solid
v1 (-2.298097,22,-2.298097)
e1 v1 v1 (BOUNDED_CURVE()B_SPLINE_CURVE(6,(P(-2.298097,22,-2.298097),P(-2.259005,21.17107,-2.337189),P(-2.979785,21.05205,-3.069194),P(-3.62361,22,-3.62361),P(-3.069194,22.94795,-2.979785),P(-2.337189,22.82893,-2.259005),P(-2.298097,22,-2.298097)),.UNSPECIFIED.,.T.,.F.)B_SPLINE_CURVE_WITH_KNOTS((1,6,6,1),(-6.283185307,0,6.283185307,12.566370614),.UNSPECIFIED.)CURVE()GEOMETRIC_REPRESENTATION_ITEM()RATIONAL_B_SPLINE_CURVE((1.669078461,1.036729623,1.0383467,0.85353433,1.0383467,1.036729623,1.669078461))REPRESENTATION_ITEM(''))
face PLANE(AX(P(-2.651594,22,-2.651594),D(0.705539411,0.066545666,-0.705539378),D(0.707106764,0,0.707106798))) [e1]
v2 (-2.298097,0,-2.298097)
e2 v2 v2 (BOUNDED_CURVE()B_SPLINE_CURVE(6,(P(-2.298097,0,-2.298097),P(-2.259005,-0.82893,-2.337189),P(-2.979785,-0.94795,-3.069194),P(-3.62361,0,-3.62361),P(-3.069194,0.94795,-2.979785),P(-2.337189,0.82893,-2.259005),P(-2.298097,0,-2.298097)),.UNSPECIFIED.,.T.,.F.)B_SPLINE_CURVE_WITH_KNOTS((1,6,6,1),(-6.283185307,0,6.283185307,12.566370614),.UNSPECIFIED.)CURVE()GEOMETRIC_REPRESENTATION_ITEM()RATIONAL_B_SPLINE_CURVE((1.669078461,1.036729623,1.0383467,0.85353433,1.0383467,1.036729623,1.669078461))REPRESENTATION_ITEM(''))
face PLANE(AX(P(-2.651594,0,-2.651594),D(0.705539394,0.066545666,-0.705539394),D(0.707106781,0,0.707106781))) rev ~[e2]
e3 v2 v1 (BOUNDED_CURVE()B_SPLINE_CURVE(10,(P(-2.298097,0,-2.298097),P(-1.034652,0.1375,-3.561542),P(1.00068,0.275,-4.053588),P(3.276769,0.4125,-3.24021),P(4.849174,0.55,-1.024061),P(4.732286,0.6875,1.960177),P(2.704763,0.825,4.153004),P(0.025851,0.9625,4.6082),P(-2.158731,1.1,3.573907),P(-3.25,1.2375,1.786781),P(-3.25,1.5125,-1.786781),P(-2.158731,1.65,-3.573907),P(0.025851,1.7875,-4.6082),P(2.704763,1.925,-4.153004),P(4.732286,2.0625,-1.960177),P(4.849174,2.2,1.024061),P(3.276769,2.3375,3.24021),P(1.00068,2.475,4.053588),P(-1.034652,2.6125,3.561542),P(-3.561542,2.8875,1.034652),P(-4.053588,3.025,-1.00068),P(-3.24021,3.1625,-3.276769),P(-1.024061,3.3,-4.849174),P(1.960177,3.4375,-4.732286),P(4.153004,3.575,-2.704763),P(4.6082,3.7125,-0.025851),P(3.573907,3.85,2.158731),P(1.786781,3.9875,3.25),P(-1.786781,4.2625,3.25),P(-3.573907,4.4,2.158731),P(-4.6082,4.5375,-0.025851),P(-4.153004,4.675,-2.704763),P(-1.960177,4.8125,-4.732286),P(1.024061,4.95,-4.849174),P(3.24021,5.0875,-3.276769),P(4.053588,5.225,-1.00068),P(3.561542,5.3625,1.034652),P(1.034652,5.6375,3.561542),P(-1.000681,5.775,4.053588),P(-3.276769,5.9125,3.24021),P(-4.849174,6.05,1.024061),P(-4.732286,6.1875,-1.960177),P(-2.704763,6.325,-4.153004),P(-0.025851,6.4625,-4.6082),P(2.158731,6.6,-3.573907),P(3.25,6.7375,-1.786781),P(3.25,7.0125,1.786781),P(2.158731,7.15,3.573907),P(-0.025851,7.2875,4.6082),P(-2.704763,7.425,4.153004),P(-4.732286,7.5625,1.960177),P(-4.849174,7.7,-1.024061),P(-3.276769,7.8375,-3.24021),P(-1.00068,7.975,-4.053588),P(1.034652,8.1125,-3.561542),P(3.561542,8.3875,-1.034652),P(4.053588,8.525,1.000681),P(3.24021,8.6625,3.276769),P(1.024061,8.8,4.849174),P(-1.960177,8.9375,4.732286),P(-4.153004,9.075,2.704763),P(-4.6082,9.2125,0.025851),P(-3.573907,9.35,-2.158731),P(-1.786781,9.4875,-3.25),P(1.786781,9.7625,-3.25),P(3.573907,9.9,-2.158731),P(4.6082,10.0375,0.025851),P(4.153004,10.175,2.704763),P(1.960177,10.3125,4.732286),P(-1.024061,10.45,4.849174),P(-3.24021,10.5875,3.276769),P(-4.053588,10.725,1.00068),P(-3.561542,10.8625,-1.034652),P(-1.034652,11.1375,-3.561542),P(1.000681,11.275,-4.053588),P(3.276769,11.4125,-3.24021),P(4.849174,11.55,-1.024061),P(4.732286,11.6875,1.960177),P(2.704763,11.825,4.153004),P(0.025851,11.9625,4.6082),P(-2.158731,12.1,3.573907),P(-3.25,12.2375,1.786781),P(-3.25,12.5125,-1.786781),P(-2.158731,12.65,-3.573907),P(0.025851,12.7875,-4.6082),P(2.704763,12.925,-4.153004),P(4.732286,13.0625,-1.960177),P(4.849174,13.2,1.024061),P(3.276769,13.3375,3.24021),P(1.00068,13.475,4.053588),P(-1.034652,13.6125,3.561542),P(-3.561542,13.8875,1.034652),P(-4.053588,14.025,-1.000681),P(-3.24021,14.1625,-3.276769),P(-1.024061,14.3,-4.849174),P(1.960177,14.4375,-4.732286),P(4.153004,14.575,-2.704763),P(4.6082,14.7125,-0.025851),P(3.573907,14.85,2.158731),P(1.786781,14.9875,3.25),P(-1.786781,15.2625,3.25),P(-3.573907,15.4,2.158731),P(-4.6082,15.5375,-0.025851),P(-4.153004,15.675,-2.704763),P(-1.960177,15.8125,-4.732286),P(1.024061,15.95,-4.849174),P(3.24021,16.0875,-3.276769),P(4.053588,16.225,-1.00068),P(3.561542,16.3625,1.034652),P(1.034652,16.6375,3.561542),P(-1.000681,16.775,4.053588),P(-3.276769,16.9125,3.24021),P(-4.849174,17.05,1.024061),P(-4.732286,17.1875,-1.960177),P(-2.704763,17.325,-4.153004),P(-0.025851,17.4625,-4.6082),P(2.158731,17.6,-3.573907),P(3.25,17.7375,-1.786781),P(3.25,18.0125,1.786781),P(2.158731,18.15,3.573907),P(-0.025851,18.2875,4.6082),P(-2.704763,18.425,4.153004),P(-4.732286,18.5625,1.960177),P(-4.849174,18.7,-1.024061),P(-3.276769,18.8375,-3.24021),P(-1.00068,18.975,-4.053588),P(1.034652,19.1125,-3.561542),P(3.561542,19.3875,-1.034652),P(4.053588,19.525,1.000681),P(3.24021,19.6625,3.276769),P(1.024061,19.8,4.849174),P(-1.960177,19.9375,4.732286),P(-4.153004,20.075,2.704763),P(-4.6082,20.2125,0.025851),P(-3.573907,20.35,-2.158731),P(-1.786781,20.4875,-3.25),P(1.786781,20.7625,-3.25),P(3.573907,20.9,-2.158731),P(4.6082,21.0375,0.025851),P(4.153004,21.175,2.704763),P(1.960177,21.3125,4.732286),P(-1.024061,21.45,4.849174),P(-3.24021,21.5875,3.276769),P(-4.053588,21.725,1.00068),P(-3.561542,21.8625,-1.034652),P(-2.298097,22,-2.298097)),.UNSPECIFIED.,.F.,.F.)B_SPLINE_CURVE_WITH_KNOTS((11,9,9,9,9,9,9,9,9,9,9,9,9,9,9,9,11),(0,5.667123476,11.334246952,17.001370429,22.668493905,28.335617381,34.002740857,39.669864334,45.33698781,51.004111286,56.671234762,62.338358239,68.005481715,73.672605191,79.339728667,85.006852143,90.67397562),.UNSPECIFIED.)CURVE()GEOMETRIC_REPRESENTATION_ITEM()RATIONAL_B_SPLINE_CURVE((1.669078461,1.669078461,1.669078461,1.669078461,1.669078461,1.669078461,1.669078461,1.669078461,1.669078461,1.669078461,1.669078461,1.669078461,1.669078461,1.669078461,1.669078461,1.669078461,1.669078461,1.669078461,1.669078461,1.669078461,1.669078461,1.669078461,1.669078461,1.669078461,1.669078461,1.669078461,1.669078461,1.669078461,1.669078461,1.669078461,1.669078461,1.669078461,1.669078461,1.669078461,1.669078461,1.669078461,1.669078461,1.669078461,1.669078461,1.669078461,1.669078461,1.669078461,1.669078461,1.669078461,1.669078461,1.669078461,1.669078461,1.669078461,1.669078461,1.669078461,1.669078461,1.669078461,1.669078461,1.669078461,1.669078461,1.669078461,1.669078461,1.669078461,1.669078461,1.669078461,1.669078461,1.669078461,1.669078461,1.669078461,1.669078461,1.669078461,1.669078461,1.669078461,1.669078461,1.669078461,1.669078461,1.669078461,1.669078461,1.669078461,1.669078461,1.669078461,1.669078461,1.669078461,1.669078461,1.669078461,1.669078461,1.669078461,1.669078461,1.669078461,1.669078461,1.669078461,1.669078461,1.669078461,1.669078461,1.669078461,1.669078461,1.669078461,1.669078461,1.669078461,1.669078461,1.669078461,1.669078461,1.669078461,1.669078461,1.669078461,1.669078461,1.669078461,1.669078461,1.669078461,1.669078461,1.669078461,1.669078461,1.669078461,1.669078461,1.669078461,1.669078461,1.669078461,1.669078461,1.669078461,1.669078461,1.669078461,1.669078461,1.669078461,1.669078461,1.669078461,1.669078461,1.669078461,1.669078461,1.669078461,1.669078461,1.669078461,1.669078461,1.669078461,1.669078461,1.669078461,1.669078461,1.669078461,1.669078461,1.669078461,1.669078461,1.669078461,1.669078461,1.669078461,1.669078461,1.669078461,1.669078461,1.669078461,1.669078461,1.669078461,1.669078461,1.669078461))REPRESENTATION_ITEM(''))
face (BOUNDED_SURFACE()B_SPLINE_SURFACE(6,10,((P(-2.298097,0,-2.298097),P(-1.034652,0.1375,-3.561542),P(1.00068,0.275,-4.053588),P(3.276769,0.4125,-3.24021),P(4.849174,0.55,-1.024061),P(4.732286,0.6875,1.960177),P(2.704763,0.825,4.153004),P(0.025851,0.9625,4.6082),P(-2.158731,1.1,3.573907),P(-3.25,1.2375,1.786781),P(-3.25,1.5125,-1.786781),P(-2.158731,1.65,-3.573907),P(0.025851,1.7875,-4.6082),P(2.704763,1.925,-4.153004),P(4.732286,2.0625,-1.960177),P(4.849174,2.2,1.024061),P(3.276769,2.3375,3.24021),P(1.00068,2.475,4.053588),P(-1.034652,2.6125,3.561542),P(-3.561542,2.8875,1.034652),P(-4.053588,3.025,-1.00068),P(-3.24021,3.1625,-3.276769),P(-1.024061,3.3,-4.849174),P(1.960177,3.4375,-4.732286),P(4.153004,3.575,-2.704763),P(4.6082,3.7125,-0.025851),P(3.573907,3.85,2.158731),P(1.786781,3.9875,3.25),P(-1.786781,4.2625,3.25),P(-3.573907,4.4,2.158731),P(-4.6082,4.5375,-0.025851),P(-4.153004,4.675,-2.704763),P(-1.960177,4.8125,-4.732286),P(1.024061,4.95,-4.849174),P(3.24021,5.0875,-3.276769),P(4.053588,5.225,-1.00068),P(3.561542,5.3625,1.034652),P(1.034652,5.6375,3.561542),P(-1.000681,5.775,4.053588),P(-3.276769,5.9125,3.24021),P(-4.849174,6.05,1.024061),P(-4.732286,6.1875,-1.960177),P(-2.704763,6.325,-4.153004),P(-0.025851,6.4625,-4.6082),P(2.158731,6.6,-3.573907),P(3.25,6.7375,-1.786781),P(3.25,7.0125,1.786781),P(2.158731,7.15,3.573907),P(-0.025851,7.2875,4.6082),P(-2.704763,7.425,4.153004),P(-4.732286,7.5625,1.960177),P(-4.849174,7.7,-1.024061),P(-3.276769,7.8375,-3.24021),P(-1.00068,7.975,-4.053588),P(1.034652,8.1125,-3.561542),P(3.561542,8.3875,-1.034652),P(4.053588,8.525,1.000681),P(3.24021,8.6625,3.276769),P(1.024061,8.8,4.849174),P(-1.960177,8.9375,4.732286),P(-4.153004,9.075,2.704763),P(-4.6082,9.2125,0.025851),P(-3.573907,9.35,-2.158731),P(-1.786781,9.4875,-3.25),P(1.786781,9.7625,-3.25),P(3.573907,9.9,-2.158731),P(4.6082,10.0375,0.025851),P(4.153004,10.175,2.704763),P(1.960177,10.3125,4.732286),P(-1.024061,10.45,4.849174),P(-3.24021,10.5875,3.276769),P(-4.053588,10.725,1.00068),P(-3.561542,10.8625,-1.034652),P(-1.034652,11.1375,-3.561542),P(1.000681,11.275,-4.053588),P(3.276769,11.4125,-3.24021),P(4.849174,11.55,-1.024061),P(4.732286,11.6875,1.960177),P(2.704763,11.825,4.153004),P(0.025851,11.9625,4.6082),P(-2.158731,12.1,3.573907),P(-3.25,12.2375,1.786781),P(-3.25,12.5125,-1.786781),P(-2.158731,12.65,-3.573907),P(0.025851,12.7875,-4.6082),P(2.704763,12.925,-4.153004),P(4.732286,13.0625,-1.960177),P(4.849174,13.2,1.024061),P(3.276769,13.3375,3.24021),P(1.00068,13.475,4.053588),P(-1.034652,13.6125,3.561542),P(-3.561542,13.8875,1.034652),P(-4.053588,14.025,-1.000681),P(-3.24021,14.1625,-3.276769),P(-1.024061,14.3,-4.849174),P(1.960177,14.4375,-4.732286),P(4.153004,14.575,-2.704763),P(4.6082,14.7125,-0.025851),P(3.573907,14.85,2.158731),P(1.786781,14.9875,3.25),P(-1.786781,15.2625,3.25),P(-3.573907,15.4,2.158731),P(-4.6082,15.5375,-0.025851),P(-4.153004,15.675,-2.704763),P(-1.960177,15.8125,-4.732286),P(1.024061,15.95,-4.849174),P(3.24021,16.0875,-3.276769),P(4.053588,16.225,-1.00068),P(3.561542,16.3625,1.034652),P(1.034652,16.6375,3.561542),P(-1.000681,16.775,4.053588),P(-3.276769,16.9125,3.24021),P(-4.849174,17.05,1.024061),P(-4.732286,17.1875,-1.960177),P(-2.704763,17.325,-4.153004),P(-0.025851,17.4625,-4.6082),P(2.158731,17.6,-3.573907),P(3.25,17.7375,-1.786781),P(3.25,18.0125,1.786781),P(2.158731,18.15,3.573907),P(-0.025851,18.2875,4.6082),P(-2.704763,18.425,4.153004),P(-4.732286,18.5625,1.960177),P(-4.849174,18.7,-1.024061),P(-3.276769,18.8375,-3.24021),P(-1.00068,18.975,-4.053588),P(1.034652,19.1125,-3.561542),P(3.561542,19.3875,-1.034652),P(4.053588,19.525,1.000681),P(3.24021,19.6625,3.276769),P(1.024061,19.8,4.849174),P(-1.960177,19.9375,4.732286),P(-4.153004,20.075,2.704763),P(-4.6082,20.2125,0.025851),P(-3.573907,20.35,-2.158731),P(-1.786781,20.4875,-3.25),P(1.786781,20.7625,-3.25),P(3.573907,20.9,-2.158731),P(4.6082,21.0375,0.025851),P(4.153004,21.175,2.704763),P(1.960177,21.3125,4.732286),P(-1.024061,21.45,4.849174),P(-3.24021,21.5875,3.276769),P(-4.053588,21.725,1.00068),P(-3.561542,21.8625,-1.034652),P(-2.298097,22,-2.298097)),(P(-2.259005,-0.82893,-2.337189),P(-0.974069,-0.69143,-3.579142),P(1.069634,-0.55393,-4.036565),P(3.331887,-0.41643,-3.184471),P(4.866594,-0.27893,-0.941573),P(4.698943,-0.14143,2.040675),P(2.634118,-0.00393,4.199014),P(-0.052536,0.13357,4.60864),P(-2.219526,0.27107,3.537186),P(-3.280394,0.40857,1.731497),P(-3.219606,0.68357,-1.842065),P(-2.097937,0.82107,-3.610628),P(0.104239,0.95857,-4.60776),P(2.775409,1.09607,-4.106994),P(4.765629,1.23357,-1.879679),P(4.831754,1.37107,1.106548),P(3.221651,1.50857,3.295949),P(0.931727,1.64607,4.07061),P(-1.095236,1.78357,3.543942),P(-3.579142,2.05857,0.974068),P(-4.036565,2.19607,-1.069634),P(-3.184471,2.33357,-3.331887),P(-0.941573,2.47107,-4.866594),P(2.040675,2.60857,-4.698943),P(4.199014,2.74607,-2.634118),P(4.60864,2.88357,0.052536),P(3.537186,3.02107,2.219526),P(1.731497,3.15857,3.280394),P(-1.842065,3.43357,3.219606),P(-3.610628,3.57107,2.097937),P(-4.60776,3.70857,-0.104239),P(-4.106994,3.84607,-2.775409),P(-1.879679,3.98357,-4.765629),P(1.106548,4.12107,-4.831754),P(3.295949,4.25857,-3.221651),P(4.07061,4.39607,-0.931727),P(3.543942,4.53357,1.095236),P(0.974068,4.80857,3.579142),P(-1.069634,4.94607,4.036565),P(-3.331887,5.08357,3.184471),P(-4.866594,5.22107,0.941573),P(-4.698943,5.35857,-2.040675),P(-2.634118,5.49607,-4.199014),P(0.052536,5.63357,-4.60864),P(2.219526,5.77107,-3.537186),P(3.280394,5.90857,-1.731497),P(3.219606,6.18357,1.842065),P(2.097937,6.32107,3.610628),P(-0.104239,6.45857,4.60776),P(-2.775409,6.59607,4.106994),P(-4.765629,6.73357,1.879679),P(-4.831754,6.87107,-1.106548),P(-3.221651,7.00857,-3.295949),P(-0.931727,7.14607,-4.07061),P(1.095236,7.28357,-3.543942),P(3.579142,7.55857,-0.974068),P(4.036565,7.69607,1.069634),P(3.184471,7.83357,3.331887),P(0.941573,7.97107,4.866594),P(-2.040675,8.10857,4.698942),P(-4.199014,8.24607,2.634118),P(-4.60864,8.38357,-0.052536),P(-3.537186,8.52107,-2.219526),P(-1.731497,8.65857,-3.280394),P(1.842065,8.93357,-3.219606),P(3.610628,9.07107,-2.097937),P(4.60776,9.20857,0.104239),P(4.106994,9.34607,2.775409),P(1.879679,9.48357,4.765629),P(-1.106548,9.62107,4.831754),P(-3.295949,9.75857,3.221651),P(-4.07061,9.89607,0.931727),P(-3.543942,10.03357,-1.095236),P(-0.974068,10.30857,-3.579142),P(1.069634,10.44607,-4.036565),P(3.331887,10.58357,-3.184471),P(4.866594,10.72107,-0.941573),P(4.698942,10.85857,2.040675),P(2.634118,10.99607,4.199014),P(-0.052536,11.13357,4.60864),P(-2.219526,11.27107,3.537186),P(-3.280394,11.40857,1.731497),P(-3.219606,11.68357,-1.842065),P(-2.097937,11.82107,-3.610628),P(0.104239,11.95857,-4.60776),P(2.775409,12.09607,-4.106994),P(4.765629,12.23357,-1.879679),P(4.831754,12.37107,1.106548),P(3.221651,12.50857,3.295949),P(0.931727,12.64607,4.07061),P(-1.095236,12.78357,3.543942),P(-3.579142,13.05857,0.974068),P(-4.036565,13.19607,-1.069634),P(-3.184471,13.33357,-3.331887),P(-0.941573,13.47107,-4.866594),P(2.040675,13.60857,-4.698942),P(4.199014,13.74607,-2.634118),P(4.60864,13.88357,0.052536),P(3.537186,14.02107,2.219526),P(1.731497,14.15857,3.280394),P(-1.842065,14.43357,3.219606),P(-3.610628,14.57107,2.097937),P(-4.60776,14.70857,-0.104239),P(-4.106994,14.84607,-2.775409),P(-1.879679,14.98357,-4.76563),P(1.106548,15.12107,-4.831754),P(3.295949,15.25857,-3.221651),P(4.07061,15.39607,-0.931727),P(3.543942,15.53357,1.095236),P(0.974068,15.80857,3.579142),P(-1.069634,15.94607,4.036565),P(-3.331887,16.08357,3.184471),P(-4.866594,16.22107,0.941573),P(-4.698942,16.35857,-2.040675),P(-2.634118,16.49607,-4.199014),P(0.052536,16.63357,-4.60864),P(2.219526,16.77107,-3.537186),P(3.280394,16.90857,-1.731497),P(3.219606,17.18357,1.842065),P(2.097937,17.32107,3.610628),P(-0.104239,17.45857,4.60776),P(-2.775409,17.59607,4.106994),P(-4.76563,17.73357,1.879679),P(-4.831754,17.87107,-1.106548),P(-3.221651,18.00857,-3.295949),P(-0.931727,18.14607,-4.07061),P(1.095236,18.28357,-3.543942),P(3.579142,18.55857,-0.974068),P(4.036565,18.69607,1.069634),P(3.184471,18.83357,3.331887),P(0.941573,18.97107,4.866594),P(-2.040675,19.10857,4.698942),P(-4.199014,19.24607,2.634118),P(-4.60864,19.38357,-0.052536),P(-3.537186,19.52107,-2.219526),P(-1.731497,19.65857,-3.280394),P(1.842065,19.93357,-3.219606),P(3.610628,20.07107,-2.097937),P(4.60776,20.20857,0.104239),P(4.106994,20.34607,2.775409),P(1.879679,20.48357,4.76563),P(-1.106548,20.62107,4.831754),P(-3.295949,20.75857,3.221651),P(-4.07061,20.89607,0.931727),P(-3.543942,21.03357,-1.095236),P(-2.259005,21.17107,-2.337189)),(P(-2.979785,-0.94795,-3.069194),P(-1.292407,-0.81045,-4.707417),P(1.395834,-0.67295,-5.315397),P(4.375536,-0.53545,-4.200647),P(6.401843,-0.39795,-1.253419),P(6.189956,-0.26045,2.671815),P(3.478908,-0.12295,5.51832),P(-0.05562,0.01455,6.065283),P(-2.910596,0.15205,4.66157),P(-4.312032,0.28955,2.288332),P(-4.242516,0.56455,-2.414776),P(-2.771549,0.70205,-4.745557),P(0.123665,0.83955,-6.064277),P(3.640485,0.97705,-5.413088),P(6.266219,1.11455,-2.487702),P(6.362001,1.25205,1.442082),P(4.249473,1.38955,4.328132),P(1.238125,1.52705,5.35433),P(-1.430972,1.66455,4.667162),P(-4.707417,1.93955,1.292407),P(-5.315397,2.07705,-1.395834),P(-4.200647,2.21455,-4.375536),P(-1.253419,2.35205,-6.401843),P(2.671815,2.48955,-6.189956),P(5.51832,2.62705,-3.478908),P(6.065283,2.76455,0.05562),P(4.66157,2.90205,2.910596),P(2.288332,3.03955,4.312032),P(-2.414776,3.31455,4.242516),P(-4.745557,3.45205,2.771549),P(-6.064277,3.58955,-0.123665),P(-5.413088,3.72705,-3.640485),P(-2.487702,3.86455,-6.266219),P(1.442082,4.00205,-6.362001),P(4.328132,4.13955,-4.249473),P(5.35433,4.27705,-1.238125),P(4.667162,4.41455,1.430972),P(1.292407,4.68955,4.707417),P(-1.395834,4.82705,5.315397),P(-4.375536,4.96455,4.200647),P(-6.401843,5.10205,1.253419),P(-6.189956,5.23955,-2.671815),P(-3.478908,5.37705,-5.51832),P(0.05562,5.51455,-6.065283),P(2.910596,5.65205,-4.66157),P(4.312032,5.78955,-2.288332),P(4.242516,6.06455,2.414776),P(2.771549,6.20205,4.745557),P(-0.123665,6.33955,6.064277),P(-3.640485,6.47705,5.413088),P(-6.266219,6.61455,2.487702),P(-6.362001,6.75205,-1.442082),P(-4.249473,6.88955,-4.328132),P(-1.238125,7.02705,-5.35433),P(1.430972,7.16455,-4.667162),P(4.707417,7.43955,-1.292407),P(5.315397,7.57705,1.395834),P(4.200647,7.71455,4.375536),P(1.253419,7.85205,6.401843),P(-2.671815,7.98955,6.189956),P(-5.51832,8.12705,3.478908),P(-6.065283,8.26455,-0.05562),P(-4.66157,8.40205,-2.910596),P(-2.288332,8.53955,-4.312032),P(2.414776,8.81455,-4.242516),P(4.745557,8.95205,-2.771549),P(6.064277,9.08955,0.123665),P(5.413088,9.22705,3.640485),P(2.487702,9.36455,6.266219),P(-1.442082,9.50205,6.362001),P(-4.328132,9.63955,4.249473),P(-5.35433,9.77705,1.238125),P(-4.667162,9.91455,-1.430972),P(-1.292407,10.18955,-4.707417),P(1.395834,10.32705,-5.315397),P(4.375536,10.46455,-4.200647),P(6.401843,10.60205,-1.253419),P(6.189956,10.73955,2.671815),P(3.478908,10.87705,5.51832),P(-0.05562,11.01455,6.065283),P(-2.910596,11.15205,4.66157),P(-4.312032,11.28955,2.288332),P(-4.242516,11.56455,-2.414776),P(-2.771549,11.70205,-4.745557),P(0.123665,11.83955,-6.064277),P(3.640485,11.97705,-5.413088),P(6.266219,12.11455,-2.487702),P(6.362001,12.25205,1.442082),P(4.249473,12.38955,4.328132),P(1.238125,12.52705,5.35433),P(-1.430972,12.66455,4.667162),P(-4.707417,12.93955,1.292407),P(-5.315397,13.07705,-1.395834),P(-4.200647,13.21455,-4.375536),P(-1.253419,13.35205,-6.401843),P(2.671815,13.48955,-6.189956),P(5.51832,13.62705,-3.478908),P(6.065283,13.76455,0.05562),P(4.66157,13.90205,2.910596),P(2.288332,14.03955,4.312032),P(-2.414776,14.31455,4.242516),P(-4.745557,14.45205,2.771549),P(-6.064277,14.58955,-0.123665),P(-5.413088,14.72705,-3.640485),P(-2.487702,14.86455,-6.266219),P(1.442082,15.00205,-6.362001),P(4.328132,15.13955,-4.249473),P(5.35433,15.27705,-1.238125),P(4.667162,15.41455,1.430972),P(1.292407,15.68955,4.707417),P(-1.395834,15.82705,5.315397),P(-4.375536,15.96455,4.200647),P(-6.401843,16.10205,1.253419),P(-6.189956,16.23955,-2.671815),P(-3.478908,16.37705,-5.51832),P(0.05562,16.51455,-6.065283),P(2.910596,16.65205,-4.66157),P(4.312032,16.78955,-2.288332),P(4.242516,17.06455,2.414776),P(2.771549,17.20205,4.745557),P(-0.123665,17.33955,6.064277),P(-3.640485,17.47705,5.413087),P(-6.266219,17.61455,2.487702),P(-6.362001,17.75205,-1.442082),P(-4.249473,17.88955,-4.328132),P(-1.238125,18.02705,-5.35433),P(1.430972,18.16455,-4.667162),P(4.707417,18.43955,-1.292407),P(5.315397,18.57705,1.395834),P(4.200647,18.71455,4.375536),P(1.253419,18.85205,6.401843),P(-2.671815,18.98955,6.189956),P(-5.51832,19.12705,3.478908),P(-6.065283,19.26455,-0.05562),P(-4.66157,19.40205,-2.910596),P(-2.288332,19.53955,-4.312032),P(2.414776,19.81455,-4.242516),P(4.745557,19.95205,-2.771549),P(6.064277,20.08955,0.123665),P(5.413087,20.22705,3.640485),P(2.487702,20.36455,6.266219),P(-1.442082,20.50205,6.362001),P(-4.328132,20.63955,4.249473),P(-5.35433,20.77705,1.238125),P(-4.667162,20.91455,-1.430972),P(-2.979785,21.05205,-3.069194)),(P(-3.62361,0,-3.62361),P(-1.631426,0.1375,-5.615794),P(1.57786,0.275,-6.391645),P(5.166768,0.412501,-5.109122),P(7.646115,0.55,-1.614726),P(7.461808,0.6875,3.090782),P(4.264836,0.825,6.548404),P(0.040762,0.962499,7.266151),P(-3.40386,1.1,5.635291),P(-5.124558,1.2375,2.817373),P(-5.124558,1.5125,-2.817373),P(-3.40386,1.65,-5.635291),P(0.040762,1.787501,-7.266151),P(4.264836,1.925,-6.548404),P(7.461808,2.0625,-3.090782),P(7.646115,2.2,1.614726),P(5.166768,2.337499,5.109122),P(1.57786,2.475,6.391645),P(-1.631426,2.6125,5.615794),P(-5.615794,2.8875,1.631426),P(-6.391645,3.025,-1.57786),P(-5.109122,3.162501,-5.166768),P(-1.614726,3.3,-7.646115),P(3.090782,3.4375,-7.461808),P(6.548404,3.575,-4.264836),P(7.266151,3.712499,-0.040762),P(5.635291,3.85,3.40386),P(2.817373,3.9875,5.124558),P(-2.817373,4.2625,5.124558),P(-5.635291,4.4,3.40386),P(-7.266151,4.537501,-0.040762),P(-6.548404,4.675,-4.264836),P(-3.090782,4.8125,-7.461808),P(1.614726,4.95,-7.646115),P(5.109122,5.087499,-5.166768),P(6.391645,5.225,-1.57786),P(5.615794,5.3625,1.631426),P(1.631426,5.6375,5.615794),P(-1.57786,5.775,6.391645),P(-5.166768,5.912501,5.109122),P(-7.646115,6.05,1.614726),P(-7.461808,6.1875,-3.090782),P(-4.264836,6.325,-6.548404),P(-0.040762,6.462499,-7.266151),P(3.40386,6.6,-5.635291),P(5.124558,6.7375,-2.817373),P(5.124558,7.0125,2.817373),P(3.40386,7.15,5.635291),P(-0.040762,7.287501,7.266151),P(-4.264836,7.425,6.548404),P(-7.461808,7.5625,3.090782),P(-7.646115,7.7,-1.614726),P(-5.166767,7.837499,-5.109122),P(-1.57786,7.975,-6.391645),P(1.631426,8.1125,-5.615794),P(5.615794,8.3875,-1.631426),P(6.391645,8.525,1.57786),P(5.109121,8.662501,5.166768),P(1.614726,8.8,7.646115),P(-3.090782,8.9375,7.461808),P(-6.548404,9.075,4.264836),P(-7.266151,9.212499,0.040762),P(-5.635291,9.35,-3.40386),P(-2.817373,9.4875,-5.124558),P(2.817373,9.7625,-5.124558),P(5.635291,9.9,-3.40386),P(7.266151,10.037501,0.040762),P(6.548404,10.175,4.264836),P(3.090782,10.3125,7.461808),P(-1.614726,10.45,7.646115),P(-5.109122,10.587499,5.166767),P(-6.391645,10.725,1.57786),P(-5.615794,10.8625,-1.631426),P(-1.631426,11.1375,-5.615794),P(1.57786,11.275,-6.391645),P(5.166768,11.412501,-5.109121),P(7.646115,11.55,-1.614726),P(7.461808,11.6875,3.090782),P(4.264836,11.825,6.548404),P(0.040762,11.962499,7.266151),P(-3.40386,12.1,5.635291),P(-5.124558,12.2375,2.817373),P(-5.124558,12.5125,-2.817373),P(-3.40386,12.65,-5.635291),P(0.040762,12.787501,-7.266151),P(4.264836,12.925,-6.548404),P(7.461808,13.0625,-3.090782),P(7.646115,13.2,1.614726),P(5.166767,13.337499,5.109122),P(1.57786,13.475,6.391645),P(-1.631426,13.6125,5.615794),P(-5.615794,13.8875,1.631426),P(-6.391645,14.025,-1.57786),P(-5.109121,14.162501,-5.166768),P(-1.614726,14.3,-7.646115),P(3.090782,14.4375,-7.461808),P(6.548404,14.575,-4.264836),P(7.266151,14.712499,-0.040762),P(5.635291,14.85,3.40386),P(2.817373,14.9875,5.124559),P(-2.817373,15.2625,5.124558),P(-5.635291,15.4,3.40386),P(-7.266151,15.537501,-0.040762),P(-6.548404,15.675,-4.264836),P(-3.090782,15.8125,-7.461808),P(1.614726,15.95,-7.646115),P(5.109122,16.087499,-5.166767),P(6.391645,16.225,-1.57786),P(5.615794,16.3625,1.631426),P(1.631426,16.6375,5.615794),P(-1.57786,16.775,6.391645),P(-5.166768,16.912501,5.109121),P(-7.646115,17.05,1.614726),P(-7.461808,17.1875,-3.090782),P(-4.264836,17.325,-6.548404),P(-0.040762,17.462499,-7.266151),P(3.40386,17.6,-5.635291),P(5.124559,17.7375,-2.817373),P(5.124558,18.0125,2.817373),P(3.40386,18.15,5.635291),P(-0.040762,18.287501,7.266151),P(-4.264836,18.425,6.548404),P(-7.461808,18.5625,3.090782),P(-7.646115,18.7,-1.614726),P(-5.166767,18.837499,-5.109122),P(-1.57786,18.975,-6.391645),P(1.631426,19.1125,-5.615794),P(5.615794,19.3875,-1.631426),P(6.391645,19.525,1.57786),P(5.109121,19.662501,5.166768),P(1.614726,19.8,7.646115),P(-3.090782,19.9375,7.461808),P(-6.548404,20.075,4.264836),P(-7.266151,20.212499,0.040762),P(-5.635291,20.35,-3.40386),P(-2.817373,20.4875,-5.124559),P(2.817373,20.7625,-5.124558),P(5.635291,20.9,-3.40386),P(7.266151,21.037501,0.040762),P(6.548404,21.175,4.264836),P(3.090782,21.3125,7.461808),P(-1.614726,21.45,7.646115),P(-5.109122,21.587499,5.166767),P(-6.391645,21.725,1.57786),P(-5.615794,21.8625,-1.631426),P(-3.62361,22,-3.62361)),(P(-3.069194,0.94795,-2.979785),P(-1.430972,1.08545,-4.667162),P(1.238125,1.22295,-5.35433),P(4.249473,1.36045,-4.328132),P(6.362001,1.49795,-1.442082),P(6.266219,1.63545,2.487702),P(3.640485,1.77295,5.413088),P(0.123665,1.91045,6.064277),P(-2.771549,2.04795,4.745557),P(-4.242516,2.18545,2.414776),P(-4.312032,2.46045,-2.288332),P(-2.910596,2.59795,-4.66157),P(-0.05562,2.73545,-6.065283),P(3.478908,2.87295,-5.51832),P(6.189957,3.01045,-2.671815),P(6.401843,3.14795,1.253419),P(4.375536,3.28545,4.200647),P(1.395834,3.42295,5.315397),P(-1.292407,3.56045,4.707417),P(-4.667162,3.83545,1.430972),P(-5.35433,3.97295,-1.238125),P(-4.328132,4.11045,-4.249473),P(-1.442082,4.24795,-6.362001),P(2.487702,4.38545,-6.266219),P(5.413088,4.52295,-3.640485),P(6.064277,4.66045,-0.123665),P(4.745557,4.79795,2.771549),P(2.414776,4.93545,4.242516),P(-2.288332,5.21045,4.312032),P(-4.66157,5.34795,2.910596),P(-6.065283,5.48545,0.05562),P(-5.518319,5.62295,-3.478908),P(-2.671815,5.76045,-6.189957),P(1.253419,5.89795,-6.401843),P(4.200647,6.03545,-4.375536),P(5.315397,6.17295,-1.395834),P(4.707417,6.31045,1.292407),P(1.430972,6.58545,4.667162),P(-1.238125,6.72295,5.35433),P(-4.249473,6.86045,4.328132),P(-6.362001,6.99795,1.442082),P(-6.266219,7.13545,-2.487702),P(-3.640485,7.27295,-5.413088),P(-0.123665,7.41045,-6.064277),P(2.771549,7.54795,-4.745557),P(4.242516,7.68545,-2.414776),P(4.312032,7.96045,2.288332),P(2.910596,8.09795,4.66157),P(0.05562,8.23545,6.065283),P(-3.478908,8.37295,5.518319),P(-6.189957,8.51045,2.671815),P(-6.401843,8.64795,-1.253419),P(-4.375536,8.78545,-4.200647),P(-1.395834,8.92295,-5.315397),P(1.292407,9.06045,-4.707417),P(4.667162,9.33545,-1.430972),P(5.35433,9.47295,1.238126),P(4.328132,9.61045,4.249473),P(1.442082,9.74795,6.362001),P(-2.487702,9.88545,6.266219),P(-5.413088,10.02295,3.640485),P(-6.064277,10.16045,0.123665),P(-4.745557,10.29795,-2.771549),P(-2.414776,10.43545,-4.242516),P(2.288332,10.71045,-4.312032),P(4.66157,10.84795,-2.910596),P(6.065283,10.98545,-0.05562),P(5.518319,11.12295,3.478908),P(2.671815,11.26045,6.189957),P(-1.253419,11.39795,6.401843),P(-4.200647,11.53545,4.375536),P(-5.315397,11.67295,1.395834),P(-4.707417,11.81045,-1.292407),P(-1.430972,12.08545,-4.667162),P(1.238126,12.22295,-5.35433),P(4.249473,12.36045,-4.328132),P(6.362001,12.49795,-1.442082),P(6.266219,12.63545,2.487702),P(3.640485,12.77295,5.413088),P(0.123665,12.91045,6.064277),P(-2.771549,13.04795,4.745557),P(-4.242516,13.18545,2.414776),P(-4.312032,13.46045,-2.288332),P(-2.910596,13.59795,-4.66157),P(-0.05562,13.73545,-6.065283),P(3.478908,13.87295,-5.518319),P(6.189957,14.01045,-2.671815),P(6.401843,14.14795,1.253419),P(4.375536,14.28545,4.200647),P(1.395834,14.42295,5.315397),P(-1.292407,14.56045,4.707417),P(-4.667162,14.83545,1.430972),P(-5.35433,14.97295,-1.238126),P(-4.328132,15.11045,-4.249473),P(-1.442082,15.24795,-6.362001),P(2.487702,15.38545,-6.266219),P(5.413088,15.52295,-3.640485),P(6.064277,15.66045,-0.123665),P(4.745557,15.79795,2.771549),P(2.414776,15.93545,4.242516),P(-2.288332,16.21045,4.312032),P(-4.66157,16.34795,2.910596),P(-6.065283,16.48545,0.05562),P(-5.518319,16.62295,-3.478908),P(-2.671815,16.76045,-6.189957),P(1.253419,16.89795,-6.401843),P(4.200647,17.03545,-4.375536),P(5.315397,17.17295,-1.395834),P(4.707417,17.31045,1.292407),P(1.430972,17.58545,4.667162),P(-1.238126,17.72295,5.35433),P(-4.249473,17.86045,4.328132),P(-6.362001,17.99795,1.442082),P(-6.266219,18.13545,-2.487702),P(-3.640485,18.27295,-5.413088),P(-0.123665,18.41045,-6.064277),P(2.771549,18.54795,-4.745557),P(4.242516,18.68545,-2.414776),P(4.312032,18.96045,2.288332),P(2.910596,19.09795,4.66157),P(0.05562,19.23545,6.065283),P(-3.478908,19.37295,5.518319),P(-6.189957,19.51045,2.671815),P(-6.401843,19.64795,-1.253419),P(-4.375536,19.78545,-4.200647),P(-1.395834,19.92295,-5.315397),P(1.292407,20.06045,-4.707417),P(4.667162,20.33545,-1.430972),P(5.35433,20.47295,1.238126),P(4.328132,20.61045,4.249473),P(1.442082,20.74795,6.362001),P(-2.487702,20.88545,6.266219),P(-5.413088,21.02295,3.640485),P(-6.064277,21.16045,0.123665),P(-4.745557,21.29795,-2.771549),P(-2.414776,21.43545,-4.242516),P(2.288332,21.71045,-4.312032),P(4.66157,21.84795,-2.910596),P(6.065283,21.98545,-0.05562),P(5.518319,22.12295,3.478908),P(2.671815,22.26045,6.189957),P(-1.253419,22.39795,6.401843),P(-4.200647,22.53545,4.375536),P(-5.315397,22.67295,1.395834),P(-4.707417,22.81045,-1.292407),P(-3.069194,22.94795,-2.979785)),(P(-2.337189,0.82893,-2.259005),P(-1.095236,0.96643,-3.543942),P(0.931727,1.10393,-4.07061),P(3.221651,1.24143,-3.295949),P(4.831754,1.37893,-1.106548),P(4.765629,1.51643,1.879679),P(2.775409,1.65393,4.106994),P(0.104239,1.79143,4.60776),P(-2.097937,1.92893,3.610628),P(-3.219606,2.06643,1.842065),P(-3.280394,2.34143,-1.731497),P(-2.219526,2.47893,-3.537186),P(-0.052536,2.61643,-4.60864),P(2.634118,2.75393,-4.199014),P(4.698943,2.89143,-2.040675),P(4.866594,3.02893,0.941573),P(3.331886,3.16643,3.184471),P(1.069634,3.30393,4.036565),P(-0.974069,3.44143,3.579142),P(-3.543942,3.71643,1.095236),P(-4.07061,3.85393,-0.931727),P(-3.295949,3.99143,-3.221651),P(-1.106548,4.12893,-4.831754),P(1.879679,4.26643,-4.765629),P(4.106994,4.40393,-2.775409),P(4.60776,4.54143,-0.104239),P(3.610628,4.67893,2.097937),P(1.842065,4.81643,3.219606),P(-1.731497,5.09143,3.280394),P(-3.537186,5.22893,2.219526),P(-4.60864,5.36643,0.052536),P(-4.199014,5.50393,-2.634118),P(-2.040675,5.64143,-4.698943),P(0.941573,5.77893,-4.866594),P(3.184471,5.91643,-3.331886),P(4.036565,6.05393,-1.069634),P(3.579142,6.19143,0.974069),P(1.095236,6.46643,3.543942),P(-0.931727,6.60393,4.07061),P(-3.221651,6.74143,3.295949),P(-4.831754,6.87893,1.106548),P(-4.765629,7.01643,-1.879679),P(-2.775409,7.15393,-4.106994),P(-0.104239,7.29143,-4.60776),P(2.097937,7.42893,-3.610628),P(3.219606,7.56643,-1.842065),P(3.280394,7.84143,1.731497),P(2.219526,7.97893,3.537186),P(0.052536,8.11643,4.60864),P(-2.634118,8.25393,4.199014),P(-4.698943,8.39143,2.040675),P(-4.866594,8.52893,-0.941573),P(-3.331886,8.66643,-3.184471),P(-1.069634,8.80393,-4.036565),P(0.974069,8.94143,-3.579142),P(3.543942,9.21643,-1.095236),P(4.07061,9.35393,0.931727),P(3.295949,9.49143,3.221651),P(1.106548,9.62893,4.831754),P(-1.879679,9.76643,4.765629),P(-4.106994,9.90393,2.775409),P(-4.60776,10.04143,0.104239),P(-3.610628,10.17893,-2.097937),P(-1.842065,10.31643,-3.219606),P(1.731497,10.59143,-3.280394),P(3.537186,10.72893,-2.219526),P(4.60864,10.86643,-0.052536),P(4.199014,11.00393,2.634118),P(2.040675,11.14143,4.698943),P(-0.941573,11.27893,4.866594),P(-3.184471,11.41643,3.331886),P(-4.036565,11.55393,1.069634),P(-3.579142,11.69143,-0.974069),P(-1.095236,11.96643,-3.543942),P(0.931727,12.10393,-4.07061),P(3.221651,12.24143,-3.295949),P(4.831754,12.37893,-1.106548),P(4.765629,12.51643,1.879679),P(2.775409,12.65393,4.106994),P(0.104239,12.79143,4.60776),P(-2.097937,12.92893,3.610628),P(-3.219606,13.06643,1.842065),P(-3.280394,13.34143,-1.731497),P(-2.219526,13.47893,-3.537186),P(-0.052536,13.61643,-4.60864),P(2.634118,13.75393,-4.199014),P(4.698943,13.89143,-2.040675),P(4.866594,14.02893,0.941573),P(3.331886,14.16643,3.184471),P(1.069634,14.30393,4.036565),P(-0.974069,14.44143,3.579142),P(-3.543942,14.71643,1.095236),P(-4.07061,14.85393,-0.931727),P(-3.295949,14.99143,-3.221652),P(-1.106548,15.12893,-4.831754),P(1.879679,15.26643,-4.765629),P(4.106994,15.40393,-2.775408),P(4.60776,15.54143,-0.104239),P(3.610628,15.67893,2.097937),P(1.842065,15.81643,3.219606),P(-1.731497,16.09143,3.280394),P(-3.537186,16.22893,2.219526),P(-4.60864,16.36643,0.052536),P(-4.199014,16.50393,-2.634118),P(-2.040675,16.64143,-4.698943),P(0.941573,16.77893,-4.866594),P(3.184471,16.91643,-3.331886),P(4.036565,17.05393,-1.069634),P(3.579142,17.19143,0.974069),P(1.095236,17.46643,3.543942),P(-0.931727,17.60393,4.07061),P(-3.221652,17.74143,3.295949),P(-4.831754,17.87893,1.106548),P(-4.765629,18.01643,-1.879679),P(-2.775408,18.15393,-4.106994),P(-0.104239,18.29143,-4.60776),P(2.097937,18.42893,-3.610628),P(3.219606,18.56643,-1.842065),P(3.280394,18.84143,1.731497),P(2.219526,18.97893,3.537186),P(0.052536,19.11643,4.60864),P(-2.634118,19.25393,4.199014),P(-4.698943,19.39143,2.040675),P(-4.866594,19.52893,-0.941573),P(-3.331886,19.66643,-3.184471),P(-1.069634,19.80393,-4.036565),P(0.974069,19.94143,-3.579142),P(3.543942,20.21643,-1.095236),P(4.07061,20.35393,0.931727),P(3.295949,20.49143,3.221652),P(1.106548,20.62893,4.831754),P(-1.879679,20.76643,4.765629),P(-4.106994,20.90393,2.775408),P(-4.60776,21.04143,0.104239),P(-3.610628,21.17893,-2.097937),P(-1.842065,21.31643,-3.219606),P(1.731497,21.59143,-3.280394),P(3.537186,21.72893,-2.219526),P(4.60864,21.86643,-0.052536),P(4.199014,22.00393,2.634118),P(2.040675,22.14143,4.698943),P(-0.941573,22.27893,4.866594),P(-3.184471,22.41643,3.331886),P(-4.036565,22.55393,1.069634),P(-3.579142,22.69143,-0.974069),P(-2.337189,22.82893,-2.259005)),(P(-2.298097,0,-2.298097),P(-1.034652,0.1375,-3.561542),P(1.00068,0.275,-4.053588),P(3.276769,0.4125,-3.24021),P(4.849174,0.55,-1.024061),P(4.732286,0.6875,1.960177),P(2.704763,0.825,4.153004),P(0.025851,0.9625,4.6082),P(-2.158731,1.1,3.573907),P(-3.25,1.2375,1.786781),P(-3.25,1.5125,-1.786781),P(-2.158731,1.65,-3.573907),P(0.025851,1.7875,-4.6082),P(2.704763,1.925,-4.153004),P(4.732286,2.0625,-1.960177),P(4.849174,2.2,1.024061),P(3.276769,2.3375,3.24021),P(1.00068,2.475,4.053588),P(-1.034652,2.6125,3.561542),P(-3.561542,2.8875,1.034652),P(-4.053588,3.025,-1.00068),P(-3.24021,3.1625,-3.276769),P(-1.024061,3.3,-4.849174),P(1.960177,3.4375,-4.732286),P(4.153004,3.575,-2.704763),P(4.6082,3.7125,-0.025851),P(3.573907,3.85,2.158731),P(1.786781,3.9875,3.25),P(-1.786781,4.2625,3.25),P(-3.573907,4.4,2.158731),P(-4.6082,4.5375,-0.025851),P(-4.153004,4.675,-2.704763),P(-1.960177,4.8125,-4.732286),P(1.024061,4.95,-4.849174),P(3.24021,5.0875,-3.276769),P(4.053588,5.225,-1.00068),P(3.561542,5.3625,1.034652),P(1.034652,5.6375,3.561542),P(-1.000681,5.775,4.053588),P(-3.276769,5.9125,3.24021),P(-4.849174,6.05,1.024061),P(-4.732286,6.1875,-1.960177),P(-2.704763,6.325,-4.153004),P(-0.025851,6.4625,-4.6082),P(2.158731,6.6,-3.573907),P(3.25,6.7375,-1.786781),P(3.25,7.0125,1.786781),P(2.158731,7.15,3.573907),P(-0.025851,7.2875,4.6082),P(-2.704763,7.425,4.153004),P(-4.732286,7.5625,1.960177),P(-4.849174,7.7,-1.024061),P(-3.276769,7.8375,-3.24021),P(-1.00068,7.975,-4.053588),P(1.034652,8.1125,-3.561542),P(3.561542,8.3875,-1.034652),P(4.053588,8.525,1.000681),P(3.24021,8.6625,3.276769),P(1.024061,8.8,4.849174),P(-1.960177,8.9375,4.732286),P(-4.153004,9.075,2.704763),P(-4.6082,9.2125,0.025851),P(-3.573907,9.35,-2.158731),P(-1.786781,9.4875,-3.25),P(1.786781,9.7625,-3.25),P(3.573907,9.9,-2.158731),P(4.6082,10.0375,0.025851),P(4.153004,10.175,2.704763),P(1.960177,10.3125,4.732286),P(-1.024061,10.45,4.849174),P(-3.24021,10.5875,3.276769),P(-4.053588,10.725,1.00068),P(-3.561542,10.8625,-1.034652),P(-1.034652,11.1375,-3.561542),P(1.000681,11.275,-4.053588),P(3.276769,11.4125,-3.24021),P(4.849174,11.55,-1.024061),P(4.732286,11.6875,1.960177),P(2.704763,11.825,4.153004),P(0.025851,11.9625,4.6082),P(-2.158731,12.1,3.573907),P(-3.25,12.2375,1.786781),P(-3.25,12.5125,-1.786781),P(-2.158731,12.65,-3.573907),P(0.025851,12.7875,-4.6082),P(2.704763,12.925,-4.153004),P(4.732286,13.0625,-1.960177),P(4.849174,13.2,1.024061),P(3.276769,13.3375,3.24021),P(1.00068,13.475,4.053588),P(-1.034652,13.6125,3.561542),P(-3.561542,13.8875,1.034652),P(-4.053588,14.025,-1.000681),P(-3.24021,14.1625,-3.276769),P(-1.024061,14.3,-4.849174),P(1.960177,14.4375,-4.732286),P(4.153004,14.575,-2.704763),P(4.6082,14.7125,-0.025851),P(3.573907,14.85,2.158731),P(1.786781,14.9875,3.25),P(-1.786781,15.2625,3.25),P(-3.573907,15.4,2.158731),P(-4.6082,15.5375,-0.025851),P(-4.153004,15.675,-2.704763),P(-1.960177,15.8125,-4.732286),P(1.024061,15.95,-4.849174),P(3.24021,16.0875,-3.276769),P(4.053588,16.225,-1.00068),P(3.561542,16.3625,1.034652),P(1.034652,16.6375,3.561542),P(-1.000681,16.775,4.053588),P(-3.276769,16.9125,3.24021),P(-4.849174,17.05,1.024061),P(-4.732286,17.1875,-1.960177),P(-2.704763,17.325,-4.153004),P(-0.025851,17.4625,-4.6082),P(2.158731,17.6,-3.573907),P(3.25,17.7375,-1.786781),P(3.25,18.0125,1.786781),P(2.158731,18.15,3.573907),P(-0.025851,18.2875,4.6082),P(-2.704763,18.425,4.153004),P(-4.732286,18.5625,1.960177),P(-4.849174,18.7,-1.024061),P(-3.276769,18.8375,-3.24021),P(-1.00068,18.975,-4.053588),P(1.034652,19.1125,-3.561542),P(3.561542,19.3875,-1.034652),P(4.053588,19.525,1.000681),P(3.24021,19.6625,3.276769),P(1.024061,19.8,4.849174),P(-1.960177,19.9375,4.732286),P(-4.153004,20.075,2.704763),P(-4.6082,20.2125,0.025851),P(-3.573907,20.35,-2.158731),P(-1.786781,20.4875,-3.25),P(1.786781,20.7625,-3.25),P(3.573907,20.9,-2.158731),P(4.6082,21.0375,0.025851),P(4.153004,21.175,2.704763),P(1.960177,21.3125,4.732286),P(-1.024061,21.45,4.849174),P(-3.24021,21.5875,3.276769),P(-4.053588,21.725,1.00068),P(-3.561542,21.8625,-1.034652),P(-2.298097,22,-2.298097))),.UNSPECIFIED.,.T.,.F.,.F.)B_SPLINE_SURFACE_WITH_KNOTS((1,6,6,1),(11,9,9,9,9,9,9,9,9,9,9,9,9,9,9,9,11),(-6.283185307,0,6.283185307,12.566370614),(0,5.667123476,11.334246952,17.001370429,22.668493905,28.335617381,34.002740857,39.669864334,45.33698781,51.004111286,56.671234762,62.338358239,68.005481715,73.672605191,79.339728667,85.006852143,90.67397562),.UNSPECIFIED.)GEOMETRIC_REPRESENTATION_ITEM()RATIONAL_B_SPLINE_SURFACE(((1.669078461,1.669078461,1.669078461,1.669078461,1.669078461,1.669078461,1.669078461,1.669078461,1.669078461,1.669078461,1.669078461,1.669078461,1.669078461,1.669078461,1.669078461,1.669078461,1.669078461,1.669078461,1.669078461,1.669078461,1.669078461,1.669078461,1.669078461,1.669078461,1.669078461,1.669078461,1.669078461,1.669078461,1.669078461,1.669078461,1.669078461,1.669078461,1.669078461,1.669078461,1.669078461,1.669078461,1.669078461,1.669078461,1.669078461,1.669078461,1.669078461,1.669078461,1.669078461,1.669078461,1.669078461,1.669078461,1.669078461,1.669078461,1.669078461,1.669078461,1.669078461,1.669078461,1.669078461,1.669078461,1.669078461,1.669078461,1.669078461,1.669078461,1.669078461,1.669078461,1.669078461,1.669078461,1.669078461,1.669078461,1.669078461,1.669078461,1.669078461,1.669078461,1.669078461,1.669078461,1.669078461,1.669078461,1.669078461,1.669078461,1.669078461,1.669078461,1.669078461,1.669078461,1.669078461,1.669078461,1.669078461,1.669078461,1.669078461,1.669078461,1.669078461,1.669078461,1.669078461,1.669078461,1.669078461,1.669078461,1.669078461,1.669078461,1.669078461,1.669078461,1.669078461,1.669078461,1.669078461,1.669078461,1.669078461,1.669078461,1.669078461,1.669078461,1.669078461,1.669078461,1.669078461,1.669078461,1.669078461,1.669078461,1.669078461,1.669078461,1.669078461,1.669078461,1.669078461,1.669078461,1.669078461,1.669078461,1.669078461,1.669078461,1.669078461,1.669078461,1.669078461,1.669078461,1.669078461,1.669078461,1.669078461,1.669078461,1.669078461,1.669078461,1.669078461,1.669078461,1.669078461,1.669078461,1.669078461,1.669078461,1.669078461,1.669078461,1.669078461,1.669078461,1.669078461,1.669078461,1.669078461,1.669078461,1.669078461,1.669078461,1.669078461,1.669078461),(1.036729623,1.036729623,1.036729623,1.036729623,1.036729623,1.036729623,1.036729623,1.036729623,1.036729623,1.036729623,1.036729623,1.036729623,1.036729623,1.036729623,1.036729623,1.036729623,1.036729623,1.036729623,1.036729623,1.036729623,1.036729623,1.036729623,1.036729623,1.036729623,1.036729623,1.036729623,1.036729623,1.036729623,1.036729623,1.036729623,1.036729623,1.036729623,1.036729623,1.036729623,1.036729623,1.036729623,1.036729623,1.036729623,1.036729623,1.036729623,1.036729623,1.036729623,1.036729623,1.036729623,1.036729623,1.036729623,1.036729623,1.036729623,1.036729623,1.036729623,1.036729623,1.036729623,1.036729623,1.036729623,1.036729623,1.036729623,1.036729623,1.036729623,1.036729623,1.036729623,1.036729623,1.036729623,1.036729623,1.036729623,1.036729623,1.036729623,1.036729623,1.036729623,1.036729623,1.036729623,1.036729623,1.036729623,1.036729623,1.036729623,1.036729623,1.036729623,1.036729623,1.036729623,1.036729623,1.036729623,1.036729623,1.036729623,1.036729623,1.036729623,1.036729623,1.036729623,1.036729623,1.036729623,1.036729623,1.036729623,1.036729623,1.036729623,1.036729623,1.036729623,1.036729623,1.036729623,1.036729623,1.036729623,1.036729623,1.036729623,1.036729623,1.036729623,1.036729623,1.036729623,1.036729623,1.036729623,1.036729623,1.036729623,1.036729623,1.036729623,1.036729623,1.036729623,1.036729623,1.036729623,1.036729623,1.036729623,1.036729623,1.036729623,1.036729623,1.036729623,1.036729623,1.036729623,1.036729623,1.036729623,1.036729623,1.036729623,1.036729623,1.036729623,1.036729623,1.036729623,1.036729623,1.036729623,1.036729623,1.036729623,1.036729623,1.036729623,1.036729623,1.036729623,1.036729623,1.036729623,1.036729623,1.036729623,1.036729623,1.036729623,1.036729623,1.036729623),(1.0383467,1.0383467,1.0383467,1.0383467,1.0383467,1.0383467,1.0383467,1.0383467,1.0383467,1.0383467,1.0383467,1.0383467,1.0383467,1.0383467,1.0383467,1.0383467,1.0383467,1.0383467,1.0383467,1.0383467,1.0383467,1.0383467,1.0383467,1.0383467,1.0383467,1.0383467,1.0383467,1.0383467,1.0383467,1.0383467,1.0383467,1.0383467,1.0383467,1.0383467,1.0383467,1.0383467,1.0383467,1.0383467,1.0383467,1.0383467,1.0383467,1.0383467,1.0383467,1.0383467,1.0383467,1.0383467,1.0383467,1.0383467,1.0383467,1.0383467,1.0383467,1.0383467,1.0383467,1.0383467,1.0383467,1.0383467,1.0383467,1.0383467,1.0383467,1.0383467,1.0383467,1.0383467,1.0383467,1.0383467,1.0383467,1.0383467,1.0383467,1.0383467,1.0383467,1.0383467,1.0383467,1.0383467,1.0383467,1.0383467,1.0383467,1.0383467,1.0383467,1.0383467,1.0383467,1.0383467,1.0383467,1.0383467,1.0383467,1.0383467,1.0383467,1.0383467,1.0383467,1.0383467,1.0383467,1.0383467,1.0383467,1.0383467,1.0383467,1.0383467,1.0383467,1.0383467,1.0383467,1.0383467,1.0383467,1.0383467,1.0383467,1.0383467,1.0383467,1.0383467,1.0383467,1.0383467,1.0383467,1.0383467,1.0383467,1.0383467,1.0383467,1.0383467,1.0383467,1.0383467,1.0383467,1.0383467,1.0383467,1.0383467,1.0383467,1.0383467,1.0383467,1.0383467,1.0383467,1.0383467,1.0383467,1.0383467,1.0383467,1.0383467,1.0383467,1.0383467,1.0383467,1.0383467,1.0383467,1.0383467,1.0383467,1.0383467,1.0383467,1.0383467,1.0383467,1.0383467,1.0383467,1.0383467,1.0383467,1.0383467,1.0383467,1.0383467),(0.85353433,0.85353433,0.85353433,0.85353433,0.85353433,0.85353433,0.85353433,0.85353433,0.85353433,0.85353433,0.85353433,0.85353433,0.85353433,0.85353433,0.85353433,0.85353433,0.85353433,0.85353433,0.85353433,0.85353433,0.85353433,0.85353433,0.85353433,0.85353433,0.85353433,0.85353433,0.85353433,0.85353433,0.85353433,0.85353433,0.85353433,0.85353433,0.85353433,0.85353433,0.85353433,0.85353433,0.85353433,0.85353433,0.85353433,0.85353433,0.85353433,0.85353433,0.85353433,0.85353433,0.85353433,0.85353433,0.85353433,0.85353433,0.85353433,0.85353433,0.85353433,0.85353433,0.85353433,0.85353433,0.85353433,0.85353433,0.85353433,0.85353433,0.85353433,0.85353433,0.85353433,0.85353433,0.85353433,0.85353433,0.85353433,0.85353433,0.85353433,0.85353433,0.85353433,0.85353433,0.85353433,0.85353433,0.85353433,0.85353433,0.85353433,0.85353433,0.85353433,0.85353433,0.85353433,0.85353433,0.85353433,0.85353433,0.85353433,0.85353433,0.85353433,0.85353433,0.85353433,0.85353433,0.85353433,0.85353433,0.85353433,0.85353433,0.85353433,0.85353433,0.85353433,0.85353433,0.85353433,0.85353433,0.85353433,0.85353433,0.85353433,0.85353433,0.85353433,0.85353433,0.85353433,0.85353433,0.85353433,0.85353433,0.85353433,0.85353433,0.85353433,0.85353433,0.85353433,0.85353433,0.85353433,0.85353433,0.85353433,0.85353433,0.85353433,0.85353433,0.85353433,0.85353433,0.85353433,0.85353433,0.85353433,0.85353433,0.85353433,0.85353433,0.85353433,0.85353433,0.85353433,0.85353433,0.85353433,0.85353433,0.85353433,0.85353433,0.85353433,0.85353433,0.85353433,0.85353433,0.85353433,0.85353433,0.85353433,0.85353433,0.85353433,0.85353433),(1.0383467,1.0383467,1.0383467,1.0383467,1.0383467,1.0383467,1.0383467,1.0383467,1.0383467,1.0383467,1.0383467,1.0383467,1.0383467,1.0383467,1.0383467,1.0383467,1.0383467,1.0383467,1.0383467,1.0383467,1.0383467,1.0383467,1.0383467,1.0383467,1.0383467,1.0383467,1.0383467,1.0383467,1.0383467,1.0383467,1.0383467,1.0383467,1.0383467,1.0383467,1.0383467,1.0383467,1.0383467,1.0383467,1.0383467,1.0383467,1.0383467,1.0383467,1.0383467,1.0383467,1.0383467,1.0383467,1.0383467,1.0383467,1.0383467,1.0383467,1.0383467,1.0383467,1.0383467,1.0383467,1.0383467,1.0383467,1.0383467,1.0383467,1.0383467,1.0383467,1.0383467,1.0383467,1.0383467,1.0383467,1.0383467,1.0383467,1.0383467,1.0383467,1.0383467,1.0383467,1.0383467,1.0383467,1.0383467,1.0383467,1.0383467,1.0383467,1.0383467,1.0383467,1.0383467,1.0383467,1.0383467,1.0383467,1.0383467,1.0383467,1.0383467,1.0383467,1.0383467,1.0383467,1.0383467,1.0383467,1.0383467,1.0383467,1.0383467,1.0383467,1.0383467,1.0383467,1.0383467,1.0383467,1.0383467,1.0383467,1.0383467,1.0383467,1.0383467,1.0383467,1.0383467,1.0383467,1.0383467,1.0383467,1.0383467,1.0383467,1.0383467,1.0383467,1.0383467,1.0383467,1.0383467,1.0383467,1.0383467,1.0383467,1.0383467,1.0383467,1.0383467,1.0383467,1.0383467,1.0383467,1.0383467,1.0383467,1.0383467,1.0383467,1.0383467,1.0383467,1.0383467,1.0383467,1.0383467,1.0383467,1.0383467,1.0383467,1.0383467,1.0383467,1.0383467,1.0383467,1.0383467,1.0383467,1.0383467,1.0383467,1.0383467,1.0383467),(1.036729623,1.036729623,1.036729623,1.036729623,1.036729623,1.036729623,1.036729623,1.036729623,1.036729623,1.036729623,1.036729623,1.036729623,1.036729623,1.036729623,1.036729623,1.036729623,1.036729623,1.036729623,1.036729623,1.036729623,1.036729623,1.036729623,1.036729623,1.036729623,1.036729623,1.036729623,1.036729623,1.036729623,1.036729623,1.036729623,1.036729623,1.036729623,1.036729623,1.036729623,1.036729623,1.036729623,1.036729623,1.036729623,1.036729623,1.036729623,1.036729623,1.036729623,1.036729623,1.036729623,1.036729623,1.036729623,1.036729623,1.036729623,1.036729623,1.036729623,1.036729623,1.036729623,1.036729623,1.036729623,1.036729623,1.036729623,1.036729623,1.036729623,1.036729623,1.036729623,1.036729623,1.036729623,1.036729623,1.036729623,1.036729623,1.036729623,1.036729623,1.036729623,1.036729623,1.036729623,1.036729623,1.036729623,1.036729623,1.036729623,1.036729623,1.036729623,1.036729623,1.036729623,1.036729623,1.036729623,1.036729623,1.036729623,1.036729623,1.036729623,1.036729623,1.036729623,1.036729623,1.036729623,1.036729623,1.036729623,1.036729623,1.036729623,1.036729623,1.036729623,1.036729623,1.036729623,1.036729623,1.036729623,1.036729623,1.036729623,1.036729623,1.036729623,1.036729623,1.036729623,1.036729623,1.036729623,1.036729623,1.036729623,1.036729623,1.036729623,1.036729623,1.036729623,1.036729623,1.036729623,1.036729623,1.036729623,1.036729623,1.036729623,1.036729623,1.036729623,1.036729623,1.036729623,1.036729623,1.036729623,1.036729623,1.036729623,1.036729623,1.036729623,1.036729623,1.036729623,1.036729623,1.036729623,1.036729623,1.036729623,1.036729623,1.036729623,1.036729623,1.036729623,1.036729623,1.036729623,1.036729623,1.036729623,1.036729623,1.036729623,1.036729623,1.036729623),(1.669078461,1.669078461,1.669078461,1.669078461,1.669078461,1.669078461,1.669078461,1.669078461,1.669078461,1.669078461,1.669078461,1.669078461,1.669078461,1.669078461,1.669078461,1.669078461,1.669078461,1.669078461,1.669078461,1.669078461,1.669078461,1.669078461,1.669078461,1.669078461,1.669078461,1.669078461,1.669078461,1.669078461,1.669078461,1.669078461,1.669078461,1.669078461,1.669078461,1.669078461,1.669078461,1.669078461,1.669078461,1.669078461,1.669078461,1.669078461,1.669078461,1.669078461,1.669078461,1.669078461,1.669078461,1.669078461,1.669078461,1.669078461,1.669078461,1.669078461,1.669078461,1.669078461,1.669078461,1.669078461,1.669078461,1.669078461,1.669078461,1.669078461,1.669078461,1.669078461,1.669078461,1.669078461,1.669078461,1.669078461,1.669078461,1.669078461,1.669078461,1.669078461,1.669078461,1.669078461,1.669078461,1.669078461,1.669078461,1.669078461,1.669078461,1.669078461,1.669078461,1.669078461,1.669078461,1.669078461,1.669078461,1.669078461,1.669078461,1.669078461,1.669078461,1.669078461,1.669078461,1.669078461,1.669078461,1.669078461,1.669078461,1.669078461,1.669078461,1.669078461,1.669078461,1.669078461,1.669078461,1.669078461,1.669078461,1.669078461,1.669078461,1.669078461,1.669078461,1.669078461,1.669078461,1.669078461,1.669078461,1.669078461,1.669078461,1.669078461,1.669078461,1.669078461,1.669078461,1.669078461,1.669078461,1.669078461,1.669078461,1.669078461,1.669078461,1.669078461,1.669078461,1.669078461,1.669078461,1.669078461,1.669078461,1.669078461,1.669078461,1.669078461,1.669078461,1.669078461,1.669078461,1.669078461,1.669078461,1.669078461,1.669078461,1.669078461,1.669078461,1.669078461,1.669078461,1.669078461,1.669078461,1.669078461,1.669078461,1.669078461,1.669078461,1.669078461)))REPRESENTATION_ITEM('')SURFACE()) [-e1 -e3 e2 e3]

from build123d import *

# Parameters (mm, degrees)
SWEEP1_PITCH       = 1.571428571
SWEEP1_HEIGHT      = 22
SWEEP1_RADIUS      = 3.75
SWEEP1_START_ANGLE = -135
SWEEP1_PROFILE_R   = 0.5


with BuildPart() as part:
    # Sweep1: sweep along a helix
    with BuildLine() as sweep1_path:
        add(Helix(SWEEP1_PITCH, SWEEP1_HEIGHT, SWEEP1_RADIUS, center=(0, 0, 0), direction=(0, 1, 0), lefthand=True, mode=Mode.PRIVATE).rotate(Axis((0, 0, 0), (0, 1, 0)), SWEEP1_START_ANGLE))
    # Sweep1 profile (on start of the path) → Sweep1 (sweep)
    with BuildSketch(Plane(origin=(-2.651650429, 0, -2.651650429), x_dir=(0.707106781, 0, 0.707106781), z_dir=(0.705539394, 0.066545666, -0.705539394))):
        Circle(SWEEP1_PROFILE_R)
    sweep(path=sweep1_path.line, is_frenet=True)


solid = part.part
